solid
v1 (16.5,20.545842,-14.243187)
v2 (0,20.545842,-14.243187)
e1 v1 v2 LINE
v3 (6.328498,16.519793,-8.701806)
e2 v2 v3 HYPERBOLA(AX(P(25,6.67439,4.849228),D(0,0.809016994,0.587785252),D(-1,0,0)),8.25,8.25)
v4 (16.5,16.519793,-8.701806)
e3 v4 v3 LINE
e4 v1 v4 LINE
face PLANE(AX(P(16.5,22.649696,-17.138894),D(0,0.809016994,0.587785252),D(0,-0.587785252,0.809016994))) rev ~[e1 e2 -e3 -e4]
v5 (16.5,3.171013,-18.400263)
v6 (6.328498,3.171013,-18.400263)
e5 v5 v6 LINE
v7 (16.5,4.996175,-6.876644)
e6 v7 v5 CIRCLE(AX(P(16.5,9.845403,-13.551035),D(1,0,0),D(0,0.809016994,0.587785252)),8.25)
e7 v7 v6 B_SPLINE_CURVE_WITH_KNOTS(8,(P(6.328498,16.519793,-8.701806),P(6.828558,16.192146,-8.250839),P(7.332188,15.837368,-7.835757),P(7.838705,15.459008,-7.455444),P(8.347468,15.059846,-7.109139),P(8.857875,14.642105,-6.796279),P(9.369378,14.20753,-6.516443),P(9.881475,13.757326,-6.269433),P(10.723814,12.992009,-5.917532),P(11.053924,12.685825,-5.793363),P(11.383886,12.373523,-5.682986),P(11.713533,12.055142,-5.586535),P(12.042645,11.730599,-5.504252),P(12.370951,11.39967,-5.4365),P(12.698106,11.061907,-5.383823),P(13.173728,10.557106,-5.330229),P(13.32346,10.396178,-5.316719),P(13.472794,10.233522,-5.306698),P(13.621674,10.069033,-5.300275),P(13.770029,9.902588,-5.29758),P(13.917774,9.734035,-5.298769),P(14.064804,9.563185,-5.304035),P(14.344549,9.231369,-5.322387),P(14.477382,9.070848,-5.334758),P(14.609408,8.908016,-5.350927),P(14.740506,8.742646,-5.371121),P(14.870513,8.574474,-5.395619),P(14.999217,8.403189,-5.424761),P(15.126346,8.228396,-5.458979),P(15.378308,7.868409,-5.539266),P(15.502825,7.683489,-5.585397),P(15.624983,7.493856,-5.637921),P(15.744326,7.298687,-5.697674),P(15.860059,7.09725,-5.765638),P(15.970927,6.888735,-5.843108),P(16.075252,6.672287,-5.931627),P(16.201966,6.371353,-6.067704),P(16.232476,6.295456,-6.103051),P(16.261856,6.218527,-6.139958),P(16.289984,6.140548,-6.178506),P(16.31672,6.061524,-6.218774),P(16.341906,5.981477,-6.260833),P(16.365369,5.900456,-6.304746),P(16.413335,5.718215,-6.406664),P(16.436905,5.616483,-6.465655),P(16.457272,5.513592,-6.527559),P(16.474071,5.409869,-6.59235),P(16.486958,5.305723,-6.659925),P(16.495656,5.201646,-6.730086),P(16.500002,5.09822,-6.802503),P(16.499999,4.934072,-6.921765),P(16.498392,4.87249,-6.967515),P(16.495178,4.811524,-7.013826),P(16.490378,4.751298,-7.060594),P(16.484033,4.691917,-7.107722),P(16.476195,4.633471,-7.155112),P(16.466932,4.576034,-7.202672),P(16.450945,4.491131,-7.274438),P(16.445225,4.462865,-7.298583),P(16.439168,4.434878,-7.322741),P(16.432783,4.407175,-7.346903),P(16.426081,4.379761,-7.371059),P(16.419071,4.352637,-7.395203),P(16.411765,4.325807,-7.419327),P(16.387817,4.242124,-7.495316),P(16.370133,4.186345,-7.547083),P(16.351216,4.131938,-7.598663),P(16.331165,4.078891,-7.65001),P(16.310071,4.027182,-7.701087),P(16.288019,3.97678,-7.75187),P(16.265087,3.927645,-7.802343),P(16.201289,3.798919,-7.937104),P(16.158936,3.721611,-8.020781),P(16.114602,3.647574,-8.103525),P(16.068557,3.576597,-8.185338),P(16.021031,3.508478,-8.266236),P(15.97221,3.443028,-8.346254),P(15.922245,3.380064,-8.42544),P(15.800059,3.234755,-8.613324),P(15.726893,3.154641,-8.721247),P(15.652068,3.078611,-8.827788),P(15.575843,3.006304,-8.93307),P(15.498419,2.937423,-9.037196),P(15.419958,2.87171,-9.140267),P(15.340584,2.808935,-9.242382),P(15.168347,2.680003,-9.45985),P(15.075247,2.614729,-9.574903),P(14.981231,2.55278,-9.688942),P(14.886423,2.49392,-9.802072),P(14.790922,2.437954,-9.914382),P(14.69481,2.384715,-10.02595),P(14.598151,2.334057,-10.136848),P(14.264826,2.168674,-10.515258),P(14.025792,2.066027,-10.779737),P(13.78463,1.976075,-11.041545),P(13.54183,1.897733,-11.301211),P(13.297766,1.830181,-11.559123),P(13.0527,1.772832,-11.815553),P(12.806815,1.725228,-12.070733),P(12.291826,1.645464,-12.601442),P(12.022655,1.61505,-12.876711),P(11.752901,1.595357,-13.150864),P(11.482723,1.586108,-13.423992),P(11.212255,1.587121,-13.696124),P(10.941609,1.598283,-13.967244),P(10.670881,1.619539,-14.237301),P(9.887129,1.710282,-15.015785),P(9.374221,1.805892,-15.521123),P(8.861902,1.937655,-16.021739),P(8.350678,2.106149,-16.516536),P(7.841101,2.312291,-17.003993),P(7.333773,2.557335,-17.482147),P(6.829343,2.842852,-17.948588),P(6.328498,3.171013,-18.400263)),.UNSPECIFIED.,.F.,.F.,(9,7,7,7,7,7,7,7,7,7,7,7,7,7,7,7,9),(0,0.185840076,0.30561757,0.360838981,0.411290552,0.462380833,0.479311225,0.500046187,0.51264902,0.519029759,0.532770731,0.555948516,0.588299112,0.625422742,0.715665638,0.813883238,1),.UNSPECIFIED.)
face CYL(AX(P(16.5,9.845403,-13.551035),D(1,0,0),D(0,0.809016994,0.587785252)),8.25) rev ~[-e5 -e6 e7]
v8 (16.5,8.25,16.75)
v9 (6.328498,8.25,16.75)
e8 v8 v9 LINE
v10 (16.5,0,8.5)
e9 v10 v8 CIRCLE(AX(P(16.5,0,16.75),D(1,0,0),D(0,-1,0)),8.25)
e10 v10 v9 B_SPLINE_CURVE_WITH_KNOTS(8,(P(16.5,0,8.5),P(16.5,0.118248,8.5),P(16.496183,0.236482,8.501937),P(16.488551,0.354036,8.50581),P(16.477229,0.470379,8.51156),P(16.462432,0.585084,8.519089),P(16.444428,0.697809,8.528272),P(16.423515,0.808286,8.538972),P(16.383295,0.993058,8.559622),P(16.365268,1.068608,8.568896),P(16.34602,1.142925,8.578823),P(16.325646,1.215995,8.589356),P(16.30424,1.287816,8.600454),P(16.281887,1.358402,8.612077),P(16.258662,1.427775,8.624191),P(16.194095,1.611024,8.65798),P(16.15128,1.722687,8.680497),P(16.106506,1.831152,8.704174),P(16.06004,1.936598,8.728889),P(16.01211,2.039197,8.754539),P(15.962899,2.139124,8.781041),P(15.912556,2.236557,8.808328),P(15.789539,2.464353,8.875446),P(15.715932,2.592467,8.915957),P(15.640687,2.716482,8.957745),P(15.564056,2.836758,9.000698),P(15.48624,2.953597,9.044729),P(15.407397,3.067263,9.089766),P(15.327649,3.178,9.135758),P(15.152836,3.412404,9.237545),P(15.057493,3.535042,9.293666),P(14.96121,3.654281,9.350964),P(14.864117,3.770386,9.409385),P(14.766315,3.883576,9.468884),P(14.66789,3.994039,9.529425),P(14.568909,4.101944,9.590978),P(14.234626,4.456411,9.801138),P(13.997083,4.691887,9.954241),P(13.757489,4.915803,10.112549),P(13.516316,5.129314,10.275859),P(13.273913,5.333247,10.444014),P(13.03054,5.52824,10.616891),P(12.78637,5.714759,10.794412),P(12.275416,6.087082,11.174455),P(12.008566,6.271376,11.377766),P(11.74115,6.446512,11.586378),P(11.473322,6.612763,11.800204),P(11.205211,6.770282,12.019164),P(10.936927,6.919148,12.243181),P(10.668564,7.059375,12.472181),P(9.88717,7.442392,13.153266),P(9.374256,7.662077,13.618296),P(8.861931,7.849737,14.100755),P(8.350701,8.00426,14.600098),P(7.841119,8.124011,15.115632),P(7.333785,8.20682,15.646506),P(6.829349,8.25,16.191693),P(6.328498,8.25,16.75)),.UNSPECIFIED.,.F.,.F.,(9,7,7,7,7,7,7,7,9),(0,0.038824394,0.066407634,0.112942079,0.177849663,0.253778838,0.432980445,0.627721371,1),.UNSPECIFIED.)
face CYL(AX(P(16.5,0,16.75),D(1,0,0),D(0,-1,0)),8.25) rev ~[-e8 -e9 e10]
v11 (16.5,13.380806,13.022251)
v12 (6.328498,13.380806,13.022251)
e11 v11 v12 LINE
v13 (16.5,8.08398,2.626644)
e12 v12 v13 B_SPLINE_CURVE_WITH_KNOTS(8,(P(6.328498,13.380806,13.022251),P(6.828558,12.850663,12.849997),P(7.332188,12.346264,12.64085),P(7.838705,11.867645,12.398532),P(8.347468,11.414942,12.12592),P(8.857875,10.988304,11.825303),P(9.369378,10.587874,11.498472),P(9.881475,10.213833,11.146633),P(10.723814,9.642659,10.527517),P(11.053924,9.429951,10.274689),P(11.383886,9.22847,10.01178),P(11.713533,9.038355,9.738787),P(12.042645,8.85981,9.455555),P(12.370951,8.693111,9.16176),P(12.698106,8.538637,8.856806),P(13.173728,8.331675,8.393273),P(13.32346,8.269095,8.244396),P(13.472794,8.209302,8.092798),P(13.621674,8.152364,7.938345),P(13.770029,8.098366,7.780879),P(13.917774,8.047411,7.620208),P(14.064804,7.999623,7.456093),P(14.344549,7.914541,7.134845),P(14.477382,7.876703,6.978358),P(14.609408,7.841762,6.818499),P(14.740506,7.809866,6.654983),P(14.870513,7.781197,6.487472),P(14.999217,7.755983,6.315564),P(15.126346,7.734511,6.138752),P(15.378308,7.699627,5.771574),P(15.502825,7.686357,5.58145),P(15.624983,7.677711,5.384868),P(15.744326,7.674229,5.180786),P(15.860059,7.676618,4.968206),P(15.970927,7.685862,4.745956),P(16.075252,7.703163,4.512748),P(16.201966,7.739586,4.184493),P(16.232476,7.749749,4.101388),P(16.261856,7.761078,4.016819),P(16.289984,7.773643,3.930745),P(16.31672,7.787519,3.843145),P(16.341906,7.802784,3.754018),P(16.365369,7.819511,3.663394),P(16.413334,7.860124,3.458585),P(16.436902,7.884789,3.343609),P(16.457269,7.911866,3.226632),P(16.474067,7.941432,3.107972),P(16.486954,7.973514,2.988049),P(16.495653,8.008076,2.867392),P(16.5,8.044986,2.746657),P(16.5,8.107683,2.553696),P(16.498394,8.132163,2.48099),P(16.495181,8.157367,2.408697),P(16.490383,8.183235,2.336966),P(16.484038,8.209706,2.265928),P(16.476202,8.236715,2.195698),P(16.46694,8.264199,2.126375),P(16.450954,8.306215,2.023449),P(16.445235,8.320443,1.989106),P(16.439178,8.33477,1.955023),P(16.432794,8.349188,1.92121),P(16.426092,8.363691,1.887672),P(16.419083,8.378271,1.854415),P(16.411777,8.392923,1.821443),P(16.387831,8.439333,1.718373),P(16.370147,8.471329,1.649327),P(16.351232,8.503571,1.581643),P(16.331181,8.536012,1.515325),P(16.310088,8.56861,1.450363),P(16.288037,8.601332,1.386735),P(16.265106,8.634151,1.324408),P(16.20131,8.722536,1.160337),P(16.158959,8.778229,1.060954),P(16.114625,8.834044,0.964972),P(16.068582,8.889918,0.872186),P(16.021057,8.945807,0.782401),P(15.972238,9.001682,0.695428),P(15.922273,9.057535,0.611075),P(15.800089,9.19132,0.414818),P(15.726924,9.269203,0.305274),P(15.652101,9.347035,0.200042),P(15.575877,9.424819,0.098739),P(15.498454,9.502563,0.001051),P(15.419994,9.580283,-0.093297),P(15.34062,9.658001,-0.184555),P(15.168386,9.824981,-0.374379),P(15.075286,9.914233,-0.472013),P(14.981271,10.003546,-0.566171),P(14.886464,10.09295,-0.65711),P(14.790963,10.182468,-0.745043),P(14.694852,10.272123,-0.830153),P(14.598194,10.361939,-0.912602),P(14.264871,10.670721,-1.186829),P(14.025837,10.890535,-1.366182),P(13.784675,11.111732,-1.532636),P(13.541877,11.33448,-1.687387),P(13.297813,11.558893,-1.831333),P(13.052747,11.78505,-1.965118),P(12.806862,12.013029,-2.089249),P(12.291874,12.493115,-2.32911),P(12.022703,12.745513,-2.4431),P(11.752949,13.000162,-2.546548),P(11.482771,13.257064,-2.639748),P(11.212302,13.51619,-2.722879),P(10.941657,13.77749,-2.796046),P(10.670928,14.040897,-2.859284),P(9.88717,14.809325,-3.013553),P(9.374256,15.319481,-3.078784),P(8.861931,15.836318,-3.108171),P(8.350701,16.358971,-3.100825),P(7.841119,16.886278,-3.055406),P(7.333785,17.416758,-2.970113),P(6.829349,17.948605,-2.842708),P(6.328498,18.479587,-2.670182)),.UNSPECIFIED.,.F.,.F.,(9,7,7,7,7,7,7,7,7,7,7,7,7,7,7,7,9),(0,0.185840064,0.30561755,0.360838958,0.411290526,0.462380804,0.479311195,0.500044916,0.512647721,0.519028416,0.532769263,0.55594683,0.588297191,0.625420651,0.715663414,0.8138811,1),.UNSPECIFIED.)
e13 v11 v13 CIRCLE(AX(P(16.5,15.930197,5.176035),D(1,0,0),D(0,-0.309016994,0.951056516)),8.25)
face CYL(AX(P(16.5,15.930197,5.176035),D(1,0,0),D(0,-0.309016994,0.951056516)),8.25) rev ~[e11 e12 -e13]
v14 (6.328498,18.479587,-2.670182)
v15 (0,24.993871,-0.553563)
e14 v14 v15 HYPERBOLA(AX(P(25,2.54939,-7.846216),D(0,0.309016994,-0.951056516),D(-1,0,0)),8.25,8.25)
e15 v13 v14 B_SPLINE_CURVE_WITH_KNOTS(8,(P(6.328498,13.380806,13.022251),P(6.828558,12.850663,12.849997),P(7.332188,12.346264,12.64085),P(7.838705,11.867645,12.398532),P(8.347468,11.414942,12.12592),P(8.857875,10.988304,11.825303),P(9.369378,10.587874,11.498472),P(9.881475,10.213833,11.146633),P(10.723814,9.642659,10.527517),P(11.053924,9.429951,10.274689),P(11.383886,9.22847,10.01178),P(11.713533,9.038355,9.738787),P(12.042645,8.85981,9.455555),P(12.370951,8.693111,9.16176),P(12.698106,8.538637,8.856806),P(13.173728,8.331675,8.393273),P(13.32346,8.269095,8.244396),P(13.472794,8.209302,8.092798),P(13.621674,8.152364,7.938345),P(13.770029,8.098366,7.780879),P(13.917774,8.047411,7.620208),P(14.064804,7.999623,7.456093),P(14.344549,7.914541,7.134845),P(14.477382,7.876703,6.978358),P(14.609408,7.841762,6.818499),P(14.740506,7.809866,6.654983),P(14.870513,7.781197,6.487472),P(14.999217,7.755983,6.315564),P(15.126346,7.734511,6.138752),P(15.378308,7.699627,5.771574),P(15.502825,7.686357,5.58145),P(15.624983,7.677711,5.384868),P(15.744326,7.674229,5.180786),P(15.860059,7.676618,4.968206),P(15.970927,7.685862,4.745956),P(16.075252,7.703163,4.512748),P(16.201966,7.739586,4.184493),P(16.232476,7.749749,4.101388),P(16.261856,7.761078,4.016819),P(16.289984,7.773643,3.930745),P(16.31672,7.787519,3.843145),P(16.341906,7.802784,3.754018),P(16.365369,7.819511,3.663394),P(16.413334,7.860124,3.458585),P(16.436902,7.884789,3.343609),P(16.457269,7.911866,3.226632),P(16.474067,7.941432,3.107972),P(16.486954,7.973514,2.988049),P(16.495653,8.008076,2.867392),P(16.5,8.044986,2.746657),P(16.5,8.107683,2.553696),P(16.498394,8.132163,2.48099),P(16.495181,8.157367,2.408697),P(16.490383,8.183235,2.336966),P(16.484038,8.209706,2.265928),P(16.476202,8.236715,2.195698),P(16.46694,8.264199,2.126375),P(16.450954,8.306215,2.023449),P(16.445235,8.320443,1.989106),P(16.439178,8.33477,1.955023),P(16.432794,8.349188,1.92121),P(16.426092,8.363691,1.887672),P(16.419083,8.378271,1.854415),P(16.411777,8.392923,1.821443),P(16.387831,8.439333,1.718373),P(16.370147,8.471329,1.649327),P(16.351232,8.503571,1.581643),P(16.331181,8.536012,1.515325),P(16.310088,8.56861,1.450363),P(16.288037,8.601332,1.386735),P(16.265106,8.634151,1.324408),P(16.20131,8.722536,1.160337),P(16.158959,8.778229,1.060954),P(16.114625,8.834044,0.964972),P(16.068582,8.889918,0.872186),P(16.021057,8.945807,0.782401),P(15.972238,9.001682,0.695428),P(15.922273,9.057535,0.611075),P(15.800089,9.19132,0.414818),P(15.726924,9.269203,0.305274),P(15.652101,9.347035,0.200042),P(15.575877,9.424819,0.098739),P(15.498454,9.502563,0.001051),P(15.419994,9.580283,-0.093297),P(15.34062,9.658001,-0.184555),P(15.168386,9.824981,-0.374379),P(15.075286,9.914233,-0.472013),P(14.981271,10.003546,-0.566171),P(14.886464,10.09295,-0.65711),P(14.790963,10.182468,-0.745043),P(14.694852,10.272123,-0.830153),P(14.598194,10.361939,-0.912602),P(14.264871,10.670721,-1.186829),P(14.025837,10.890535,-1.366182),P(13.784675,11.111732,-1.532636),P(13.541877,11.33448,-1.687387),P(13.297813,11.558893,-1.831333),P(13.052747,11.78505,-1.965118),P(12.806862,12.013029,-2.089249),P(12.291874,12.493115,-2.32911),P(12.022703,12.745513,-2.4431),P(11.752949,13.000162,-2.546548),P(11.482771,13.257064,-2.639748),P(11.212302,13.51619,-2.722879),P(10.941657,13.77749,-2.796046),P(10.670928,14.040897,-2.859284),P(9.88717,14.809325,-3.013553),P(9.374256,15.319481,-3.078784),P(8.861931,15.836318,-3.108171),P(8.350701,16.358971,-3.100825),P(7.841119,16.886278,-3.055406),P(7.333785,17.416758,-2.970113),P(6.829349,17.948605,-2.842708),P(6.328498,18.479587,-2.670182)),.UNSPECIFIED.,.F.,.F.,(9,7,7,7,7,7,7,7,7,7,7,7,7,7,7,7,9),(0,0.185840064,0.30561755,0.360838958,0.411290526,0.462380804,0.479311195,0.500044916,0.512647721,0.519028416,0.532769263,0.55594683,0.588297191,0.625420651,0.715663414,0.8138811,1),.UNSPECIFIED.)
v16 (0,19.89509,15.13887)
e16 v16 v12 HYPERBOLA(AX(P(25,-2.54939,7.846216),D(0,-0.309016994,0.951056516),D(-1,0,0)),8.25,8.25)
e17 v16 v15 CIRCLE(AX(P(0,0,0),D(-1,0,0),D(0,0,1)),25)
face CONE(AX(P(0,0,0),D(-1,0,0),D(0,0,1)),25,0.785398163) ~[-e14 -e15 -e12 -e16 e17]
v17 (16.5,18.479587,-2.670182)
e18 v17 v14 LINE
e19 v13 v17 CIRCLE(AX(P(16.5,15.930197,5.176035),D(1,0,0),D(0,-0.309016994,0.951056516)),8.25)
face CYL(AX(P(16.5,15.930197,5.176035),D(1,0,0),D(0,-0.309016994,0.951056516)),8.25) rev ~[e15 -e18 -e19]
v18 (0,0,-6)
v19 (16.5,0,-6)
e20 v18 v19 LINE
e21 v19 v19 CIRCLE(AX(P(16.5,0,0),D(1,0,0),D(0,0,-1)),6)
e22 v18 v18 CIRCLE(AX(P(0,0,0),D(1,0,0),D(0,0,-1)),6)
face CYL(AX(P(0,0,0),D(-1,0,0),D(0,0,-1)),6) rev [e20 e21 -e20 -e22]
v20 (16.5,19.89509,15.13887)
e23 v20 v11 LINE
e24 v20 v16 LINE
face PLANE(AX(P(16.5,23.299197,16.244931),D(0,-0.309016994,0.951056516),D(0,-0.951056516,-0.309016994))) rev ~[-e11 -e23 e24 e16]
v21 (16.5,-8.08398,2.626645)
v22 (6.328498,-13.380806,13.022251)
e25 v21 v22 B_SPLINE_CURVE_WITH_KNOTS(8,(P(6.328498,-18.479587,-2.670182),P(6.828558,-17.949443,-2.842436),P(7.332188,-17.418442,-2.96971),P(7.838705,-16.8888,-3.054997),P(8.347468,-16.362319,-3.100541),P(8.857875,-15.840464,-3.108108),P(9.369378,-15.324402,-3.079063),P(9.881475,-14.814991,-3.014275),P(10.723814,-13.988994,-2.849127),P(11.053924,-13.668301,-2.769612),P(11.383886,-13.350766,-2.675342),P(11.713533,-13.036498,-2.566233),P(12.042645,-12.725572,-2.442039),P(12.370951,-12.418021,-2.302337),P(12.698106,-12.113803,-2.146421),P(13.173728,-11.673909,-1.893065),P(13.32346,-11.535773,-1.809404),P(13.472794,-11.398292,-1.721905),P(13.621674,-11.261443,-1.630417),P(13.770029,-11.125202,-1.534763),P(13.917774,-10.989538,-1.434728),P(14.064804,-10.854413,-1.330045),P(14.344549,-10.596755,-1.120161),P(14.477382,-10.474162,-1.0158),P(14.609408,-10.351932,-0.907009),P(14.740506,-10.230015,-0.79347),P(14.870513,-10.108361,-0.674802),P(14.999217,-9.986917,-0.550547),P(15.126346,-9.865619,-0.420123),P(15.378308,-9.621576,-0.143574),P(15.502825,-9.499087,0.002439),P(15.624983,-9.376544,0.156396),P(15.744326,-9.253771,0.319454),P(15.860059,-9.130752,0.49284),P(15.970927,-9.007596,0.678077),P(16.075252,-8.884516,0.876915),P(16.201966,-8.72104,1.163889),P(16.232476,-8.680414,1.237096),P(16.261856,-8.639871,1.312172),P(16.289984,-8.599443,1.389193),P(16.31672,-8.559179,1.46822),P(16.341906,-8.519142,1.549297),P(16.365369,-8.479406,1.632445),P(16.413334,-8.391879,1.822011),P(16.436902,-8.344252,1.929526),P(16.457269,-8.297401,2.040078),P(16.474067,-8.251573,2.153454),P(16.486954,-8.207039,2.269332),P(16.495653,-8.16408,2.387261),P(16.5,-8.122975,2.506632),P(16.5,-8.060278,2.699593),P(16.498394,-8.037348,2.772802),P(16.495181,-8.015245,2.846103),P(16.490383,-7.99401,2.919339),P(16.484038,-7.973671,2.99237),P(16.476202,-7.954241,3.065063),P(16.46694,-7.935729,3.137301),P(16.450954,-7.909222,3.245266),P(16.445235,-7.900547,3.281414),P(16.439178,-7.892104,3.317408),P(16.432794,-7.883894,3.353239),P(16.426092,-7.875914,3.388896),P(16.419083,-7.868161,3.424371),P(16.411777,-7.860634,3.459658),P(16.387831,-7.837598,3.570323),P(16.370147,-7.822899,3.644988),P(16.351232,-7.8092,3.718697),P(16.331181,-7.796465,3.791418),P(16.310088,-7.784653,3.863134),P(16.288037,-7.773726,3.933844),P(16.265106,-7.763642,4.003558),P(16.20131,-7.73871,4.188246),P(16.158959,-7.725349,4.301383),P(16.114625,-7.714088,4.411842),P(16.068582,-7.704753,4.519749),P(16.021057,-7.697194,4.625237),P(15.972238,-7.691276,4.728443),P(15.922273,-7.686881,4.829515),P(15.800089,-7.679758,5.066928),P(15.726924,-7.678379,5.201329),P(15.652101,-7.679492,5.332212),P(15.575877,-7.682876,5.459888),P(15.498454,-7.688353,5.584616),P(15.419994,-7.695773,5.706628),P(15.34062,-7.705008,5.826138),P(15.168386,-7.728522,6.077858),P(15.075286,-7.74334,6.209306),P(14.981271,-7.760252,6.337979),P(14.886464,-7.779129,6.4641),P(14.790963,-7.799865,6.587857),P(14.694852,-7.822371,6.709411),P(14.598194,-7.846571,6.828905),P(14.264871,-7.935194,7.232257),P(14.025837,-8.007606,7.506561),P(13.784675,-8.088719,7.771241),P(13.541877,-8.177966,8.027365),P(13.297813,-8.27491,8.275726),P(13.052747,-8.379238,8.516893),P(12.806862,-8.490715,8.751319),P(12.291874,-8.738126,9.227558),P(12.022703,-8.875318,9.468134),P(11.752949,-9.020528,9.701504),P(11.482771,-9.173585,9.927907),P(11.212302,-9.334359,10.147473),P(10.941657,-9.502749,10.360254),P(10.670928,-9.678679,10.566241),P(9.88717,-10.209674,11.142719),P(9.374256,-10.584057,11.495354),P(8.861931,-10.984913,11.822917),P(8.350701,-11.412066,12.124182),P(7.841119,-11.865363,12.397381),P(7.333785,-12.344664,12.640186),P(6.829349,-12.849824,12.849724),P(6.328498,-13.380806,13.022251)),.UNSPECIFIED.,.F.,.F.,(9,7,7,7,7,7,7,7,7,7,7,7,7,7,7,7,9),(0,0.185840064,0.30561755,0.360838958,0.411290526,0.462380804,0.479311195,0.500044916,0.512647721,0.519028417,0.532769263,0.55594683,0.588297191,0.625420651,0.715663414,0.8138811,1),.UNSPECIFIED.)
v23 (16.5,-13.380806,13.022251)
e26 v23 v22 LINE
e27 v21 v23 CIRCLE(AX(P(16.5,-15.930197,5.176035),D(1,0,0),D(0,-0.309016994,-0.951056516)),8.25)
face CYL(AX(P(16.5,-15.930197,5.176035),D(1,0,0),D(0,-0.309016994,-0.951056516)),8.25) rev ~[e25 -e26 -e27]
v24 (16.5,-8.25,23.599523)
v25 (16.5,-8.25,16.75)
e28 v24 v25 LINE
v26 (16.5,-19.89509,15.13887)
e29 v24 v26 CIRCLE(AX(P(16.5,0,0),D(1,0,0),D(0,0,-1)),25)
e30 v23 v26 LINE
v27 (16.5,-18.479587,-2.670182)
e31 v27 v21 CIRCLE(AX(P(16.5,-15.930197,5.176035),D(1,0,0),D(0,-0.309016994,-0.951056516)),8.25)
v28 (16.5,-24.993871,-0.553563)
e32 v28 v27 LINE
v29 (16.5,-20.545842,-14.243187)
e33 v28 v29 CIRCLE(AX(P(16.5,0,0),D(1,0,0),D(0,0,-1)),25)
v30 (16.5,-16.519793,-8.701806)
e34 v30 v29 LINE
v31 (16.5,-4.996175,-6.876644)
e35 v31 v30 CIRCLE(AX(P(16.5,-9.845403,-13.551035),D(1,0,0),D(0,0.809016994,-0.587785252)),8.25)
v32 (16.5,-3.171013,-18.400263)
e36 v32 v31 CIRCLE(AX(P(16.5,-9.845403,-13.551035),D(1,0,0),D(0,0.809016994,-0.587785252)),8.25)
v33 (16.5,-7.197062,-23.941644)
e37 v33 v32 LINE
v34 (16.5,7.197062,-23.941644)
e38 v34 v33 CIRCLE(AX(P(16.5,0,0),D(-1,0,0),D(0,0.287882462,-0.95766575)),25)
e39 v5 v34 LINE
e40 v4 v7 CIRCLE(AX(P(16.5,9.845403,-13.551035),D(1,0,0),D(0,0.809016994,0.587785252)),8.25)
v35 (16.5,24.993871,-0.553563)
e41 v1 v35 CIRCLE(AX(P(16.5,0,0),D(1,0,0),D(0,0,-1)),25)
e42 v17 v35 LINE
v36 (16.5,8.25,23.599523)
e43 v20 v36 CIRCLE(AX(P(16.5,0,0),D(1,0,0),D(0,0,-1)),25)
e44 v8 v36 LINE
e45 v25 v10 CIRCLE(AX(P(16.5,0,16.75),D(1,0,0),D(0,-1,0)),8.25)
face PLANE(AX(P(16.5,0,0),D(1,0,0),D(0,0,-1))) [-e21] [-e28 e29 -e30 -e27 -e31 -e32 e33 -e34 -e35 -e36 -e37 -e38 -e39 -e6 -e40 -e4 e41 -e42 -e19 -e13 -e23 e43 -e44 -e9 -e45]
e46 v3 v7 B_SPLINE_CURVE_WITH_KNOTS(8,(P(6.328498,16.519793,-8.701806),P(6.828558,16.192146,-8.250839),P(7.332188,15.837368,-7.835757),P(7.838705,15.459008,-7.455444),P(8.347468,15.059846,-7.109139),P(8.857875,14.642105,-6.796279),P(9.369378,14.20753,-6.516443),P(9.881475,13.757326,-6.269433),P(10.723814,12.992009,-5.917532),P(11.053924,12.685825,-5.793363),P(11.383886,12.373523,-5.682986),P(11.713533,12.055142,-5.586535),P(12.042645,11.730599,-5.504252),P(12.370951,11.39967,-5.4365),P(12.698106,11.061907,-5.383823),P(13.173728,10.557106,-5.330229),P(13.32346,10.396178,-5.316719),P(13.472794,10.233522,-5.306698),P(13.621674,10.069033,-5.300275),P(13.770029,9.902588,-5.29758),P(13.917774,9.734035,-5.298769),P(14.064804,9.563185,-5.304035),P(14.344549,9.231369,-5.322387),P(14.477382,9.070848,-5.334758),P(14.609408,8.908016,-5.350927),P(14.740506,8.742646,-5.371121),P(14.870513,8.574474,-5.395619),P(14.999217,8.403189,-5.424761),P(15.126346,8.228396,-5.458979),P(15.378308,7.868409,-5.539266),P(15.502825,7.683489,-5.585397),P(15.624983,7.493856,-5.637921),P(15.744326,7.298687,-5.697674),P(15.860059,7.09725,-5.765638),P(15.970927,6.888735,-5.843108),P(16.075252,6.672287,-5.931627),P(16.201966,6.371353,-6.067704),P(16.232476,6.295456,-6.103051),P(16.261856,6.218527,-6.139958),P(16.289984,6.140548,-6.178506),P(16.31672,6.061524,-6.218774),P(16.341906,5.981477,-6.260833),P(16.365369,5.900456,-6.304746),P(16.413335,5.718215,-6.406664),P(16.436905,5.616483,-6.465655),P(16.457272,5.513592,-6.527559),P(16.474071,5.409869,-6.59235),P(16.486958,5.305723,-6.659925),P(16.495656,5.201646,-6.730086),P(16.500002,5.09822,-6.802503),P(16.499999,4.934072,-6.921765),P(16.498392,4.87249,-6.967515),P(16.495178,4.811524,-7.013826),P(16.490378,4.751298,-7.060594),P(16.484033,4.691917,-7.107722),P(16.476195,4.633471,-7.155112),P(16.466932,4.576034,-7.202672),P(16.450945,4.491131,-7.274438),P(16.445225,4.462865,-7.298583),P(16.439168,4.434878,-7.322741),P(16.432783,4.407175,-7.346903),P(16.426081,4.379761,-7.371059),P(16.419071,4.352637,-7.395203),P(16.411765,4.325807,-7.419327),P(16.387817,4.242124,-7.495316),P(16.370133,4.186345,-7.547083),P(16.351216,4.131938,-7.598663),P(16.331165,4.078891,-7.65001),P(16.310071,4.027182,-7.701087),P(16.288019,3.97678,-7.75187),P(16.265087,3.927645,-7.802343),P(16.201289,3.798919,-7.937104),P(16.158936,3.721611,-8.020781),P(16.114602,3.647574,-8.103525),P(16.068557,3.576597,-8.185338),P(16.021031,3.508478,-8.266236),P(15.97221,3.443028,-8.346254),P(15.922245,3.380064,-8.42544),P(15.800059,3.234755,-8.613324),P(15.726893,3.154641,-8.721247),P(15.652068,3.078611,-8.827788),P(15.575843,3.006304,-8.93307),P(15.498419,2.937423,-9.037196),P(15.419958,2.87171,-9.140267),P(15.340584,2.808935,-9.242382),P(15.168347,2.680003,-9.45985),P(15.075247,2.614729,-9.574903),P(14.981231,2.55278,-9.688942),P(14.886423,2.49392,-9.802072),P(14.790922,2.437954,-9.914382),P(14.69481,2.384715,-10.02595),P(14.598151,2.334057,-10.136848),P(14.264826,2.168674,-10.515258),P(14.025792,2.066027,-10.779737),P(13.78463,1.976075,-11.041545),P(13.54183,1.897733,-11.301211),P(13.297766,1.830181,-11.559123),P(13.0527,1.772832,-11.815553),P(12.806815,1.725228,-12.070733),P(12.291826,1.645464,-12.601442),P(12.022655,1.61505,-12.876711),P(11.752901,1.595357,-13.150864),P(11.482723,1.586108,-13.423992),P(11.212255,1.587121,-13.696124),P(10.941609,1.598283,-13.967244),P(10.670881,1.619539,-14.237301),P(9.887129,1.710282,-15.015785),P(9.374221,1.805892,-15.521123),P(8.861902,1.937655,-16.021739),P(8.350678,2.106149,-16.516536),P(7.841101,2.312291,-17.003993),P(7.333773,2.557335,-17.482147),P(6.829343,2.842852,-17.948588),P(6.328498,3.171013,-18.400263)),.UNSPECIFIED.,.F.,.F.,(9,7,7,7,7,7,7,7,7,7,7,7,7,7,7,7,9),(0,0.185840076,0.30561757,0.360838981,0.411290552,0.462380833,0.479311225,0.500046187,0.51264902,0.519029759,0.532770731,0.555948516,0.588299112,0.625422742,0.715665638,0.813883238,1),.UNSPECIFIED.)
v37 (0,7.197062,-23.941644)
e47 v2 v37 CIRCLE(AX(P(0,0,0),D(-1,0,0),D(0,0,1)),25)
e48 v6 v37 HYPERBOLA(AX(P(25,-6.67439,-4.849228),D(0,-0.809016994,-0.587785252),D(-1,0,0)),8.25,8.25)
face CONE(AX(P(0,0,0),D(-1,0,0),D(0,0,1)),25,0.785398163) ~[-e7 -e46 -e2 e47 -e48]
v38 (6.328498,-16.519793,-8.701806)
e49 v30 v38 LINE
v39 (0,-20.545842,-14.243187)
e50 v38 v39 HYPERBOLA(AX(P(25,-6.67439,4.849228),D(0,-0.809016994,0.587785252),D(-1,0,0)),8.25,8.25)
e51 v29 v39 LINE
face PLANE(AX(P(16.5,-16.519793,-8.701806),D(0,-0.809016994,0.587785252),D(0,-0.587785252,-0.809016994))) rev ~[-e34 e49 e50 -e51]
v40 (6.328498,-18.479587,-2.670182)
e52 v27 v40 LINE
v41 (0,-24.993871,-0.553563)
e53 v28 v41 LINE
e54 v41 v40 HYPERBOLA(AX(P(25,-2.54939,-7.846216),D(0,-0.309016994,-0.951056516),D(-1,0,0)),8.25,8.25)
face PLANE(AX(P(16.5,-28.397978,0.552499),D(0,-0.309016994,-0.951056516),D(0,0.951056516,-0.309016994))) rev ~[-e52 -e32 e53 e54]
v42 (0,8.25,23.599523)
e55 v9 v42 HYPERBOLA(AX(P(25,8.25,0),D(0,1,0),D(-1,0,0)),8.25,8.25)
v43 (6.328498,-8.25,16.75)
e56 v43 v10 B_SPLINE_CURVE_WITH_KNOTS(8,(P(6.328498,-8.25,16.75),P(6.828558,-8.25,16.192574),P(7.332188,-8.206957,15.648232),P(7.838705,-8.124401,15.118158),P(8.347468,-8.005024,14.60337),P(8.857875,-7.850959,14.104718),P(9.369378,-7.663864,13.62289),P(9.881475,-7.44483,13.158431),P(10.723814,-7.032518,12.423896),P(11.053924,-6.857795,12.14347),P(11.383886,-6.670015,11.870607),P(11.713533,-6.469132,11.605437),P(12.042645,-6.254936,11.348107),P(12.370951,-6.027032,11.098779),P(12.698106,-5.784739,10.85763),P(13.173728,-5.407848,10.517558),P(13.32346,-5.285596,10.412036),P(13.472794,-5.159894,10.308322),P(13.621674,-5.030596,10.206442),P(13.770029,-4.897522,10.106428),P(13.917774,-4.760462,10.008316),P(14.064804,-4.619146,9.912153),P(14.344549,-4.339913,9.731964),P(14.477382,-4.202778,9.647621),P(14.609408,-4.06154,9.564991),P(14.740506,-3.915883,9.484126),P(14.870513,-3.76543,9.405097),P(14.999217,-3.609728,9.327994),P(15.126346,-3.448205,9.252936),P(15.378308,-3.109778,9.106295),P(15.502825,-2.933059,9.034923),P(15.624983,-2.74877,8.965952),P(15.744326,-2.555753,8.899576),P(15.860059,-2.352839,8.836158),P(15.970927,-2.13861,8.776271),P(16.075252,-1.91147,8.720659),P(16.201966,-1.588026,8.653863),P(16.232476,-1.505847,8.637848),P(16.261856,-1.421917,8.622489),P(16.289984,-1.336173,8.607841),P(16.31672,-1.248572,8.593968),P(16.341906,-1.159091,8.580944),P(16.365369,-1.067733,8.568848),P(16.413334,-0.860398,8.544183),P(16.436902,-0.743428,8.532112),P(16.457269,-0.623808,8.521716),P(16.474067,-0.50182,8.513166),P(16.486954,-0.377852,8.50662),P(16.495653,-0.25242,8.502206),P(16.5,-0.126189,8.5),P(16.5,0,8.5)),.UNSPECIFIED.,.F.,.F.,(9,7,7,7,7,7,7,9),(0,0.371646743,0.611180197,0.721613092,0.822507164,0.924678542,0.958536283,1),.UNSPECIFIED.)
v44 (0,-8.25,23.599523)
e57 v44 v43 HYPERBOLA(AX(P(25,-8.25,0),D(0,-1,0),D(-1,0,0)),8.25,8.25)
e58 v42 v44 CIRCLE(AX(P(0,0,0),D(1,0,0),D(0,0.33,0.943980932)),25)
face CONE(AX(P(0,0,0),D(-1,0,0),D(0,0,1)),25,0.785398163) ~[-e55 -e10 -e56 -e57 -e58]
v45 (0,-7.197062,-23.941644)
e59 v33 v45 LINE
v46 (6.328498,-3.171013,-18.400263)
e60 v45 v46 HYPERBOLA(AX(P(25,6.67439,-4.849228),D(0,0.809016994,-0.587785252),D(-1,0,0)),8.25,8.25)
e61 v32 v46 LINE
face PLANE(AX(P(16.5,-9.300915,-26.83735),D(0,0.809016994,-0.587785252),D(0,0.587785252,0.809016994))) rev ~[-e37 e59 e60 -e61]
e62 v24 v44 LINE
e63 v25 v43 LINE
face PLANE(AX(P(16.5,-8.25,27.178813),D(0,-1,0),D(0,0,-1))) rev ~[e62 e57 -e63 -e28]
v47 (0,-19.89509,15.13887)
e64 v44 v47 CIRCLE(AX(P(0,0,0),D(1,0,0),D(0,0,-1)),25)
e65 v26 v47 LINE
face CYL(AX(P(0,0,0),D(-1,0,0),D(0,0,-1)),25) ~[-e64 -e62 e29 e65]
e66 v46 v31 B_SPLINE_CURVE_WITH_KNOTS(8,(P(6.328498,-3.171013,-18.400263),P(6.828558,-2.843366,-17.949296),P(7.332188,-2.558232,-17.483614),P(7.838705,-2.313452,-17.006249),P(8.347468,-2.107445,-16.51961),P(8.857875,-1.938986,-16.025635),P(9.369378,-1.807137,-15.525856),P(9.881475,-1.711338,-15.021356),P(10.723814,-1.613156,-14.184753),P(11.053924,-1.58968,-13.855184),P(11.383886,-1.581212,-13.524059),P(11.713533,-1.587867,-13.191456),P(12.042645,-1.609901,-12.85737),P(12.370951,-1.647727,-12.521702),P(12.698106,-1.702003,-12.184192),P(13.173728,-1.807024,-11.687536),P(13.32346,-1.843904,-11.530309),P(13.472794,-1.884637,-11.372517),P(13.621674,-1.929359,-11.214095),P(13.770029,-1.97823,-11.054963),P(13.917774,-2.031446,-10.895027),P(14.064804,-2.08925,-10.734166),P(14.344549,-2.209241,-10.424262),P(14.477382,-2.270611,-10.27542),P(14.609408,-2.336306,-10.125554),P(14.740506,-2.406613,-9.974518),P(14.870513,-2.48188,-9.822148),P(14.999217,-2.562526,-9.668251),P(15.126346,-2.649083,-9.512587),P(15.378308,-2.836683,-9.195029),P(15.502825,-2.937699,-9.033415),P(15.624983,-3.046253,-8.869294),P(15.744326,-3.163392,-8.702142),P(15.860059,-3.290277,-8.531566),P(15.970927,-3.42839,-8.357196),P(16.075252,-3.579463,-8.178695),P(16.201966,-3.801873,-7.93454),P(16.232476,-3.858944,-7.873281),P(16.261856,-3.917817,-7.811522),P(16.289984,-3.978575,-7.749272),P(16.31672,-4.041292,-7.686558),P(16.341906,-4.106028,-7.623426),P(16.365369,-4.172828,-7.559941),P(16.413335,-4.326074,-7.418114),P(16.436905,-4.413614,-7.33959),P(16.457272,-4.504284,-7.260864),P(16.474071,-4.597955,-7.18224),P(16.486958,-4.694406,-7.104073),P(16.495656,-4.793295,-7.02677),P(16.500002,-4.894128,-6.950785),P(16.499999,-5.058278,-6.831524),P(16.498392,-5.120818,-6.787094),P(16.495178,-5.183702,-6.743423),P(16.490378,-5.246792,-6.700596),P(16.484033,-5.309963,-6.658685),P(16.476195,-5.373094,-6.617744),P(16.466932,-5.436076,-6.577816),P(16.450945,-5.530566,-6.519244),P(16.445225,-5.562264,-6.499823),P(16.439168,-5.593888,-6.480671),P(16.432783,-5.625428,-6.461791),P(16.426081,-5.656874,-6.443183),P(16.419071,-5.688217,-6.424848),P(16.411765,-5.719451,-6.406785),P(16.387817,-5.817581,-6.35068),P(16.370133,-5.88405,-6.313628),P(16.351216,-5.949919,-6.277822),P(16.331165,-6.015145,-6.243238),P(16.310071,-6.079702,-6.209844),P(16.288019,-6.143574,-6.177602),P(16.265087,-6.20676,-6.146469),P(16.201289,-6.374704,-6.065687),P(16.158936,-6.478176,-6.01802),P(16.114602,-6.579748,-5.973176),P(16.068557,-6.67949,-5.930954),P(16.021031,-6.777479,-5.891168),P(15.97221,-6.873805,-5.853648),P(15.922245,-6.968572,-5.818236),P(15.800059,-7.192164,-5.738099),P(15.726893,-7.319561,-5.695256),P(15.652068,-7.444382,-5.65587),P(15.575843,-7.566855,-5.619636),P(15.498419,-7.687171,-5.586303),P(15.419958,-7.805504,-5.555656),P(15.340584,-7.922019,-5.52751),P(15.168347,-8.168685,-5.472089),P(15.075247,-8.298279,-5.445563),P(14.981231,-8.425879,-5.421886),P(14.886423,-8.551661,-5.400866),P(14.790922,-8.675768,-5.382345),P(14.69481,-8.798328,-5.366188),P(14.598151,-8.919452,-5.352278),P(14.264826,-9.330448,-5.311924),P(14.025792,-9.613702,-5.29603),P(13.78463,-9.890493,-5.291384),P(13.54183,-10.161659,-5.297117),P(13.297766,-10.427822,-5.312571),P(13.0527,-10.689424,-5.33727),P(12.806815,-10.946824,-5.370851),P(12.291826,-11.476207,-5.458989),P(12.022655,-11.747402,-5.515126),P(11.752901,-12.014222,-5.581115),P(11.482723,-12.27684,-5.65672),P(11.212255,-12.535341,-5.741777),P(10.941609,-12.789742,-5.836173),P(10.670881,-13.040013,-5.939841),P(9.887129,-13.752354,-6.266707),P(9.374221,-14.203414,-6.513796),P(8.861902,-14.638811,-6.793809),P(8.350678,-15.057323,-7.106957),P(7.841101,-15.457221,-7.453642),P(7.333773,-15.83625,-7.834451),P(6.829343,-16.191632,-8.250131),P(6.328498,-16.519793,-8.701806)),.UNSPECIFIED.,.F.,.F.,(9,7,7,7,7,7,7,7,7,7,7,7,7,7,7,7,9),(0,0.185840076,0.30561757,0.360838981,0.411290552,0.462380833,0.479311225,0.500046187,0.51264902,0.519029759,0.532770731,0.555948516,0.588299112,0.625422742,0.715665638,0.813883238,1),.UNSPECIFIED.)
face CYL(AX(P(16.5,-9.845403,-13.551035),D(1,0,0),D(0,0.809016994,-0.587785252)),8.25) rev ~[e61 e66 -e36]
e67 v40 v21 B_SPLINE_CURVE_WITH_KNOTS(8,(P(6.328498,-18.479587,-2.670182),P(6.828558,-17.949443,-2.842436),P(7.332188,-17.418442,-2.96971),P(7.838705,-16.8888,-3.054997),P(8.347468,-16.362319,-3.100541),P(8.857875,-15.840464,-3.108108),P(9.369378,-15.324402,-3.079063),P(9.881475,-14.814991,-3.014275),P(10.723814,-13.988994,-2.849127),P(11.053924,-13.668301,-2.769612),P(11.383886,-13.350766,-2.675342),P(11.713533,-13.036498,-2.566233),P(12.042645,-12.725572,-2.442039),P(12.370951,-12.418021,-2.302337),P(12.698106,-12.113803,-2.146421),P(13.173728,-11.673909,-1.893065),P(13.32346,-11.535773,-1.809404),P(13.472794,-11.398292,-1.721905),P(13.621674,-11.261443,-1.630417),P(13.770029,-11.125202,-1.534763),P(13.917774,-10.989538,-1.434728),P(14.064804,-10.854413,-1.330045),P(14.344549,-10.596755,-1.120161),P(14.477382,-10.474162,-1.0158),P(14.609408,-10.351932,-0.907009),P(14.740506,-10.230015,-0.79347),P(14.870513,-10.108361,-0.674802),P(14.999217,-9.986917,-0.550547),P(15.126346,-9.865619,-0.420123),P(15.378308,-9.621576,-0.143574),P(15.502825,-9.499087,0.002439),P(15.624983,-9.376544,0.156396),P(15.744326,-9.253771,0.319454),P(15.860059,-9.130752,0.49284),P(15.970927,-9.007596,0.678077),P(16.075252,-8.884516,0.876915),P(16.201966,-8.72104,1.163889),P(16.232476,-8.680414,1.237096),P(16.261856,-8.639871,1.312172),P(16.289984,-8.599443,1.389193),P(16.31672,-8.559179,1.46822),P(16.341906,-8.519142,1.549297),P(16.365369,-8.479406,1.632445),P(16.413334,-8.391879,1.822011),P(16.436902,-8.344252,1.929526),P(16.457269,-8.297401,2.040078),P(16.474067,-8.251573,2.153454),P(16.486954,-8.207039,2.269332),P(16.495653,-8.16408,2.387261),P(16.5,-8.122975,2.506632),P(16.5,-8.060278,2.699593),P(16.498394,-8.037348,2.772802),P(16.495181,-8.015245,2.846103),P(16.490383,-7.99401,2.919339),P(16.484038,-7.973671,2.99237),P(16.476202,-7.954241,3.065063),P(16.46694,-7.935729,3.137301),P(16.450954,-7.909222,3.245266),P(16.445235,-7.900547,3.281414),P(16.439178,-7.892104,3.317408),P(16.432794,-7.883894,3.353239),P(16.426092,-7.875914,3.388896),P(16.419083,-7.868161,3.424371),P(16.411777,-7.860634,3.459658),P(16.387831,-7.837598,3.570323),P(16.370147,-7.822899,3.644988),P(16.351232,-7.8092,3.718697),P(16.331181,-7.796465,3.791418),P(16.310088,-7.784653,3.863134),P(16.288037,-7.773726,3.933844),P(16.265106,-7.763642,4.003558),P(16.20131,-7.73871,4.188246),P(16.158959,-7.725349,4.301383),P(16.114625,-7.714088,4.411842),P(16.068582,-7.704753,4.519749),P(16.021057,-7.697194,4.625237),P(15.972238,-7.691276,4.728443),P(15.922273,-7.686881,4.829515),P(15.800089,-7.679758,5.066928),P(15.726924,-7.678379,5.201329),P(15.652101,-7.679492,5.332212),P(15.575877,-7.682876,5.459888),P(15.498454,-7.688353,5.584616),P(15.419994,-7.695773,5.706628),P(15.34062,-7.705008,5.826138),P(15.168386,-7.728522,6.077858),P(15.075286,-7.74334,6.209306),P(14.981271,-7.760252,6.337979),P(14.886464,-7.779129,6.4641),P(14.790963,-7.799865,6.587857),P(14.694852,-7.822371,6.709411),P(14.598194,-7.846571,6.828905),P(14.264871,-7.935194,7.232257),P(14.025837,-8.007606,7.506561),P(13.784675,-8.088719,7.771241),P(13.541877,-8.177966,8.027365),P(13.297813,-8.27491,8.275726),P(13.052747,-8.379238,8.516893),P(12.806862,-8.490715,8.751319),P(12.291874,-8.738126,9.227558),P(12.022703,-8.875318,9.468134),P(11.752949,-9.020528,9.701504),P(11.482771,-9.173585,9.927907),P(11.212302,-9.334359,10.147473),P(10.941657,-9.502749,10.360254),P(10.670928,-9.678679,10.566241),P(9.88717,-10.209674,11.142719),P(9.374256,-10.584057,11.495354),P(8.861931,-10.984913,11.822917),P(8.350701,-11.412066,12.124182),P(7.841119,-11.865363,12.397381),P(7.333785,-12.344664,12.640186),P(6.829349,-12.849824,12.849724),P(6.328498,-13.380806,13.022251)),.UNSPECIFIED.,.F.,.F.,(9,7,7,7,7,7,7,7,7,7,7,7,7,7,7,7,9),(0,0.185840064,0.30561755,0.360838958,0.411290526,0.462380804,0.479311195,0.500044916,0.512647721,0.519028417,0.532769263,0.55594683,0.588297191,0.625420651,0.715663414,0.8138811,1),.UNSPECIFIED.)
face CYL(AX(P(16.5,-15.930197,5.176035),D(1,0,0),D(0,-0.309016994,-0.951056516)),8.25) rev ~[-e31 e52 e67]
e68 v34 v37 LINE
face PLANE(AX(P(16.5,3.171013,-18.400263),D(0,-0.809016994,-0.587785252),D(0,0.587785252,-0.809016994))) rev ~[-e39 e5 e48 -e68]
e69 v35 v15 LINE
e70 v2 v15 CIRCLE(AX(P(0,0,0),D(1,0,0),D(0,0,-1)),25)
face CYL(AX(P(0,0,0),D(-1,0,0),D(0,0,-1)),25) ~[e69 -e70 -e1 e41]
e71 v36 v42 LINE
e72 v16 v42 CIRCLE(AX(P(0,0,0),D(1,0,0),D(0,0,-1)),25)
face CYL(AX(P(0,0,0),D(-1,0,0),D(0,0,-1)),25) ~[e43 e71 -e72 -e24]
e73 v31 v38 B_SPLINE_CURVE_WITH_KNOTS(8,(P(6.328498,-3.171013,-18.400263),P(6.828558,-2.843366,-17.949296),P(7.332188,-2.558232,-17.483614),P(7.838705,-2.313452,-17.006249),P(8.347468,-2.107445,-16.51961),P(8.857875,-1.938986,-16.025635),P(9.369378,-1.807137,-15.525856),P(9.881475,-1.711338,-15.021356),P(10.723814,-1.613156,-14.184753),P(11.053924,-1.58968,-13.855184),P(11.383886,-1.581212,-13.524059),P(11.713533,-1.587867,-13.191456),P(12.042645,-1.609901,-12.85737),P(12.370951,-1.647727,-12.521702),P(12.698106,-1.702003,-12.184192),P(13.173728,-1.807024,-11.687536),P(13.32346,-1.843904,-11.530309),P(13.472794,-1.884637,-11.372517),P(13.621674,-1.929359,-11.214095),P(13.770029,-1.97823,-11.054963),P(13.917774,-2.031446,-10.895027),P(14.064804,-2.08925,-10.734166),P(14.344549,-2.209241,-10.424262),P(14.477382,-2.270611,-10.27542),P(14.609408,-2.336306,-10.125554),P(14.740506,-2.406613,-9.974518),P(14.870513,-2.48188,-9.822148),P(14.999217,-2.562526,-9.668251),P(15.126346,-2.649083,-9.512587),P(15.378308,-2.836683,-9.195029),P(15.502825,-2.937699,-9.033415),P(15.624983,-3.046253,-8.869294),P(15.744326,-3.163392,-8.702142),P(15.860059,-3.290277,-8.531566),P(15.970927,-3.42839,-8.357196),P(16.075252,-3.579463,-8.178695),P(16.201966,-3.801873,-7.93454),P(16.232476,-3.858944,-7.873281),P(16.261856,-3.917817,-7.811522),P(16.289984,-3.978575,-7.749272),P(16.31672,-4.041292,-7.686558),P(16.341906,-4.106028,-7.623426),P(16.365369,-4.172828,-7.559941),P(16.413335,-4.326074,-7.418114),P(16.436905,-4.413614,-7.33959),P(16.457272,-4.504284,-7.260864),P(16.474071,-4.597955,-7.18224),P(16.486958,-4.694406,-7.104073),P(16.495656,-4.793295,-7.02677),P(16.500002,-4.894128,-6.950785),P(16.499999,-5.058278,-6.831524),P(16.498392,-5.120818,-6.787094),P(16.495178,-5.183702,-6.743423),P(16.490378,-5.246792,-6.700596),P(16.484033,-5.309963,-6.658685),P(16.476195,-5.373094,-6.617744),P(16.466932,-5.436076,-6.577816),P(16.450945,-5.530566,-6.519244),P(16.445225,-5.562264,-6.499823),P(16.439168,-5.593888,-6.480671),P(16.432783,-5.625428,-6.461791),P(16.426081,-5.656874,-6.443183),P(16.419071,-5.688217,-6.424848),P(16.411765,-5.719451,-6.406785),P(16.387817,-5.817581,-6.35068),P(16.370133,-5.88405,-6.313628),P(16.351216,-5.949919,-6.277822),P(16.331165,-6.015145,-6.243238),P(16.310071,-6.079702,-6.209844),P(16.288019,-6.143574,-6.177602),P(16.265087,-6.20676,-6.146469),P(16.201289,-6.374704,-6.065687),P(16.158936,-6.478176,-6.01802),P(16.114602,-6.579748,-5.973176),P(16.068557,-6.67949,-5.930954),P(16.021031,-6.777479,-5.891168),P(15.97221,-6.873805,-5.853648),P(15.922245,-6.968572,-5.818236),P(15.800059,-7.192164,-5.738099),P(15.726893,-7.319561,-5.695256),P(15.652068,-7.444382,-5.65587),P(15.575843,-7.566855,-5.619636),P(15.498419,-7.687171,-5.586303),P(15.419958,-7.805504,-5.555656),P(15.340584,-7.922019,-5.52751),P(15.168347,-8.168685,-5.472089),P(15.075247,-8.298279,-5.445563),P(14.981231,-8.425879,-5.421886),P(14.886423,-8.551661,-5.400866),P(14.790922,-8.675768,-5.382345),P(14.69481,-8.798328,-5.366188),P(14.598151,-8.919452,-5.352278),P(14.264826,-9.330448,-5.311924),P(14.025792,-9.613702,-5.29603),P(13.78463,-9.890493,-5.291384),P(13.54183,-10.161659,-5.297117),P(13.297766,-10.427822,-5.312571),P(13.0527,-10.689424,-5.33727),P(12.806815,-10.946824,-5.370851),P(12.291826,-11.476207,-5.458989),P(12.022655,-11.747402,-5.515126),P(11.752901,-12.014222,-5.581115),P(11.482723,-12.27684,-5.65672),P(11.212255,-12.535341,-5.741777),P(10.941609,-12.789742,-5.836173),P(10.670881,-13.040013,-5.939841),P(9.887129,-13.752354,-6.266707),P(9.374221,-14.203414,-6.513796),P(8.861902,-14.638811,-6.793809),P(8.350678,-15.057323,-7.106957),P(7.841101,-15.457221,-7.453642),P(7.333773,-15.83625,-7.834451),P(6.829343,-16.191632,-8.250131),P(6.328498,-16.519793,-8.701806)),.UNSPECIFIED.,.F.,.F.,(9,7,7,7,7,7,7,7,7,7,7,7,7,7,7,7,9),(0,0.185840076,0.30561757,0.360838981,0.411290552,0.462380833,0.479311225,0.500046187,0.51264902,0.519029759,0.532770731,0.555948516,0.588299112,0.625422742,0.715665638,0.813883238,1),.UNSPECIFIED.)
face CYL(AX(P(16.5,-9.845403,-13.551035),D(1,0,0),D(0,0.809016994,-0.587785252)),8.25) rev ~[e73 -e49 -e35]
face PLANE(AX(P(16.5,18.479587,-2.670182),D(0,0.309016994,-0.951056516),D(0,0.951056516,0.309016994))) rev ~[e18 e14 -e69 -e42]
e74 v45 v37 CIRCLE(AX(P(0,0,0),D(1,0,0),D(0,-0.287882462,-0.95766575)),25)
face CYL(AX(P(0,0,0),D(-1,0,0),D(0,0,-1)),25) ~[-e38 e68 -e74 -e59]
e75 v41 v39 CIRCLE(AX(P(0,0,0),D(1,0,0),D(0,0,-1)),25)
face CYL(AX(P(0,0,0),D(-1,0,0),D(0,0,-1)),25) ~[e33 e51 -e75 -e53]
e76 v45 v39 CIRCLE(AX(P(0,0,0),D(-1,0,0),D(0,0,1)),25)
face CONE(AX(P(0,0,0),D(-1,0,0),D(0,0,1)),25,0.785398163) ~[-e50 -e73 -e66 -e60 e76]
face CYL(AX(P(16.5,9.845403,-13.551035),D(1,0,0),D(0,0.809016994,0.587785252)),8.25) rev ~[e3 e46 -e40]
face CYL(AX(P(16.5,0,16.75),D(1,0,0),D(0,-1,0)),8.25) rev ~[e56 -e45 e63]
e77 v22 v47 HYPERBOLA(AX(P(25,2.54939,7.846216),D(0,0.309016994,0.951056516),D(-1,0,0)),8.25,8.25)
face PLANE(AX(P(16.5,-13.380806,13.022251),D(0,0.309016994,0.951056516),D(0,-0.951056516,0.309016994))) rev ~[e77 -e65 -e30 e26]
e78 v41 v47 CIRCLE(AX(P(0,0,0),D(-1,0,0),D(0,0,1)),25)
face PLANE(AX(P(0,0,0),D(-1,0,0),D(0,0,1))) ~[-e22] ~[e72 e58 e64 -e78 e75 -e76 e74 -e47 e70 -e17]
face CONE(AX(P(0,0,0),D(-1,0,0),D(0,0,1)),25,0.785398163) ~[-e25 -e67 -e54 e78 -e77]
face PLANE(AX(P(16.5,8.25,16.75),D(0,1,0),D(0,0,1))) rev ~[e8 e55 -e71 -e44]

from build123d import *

# Parameters (mm, degrees)
SKETCH1_R           = 25
SKETCH1_R_2         = 6
BOSS_EXTRUDE1_DEPTH = 16.5
CUT_EXTRUDE3_DEPTH  = 30


with BuildPart() as part:
    # Sketch1 → Boss-Extrude1 (new body)
    with BuildSketch(Plane(origin=(0, 0, 0), x_dir=(0, 0, -1), z_dir=(1, 0, 0))):
        Circle(SKETCH1_R)
        Circle(SKETCH1_R_2, mode=Mode.SUBTRACT)
    extrude(amount=BOSS_EXTRUDE1_DEPTH)

    # Sketch4 → Cut-Extrude3 (cut)
    with BuildSketch(Plane(origin=(16.5, 0, 0), x_dir=(0, 0, -1), z_dir=(1, 0, 0))):
        with BuildLine():
            Line((-16.75, 8.25), (-27.17881333, 8.25))
            Line((-27.17881333, 8.25), (-27.17881333, -8.25))
            Line((-27.17881333, -8.25), (-16.75, -8.25))
            ThreePointArc((-16.75, -8.25), (-8.5, 0), (-16.75, 8.25))
        make_face()
        with BuildLine():
            Line((2.670181604, 18.479586852), (-0.552498946, 28.397977726))
            Line((-0.552498946, 28.397977726), (-16.244931465, 23.299197319))
            Line((-16.244931465, 23.299197319), (-13.022250915, 13.380806444))
            ThreePointArc((-13.022250915, 13.380806444), (-2.626644452, 8.083980389), (2.670181604, 18.479586852))
        make_face()
        with BuildLine():
            Line((18.400262987, 3.171012772), (26.837350202, 9.300915446))
            Line((26.837350202, 9.300915446), (17.138893539, 22.649695854))
            Line((17.138893539, 22.649695854), (8.701806324, 16.519793179))
            ThreePointArc((8.701806324, 16.519793179), (6.876644452, 4.996174644), (18.400262987, 3.171012772))
        make_face()
        with BuildLine():
            Line((8.701806324, -16.519793179), (17.138893539, -22.649695854))
            Line((17.138893539, -22.649695854), (26.837350202, -9.300915446))
            Line((26.837350202, -9.300915446), (18.400262987, -3.171012772))
            ThreePointArc((18.400262987, -3.171012772), (6.876644452, -4.996174644), (8.701806324, -16.519793179))
        make_face()
        with BuildLine():
            Line((-13.022250915, -13.380806444), (-16.244931465, -23.299197319))
            Line((-16.244931465, -23.299197319), (-0.552498946, -28.397977726))
            Line((-0.552498946, -28.397977726), (2.670181604, -18.479586852))
            ThreePointArc((2.670181604, -18.479586852), (-2.626644452, -8.083980389), (-13.022250915, -13.380806444))
        make_face()
    extrude(amount=-CUT_EXTRUDE3_DEPTH, mode=Mode.SUBTRACT)

    # Sketch6 → Revolve1 (revolve)
    with BuildSketch(Plane(origin=(0, 0, 0), x_dir=(1, 0, 0), z_dir=(0, 1, 0))):
        Polygon((0, -25), (16.5, -8.5), (0, -8.5), align=None)
    revolve(axis=Axis((27.230838135, 0, 0), (-1, 0, 0)))


solid = part.part
